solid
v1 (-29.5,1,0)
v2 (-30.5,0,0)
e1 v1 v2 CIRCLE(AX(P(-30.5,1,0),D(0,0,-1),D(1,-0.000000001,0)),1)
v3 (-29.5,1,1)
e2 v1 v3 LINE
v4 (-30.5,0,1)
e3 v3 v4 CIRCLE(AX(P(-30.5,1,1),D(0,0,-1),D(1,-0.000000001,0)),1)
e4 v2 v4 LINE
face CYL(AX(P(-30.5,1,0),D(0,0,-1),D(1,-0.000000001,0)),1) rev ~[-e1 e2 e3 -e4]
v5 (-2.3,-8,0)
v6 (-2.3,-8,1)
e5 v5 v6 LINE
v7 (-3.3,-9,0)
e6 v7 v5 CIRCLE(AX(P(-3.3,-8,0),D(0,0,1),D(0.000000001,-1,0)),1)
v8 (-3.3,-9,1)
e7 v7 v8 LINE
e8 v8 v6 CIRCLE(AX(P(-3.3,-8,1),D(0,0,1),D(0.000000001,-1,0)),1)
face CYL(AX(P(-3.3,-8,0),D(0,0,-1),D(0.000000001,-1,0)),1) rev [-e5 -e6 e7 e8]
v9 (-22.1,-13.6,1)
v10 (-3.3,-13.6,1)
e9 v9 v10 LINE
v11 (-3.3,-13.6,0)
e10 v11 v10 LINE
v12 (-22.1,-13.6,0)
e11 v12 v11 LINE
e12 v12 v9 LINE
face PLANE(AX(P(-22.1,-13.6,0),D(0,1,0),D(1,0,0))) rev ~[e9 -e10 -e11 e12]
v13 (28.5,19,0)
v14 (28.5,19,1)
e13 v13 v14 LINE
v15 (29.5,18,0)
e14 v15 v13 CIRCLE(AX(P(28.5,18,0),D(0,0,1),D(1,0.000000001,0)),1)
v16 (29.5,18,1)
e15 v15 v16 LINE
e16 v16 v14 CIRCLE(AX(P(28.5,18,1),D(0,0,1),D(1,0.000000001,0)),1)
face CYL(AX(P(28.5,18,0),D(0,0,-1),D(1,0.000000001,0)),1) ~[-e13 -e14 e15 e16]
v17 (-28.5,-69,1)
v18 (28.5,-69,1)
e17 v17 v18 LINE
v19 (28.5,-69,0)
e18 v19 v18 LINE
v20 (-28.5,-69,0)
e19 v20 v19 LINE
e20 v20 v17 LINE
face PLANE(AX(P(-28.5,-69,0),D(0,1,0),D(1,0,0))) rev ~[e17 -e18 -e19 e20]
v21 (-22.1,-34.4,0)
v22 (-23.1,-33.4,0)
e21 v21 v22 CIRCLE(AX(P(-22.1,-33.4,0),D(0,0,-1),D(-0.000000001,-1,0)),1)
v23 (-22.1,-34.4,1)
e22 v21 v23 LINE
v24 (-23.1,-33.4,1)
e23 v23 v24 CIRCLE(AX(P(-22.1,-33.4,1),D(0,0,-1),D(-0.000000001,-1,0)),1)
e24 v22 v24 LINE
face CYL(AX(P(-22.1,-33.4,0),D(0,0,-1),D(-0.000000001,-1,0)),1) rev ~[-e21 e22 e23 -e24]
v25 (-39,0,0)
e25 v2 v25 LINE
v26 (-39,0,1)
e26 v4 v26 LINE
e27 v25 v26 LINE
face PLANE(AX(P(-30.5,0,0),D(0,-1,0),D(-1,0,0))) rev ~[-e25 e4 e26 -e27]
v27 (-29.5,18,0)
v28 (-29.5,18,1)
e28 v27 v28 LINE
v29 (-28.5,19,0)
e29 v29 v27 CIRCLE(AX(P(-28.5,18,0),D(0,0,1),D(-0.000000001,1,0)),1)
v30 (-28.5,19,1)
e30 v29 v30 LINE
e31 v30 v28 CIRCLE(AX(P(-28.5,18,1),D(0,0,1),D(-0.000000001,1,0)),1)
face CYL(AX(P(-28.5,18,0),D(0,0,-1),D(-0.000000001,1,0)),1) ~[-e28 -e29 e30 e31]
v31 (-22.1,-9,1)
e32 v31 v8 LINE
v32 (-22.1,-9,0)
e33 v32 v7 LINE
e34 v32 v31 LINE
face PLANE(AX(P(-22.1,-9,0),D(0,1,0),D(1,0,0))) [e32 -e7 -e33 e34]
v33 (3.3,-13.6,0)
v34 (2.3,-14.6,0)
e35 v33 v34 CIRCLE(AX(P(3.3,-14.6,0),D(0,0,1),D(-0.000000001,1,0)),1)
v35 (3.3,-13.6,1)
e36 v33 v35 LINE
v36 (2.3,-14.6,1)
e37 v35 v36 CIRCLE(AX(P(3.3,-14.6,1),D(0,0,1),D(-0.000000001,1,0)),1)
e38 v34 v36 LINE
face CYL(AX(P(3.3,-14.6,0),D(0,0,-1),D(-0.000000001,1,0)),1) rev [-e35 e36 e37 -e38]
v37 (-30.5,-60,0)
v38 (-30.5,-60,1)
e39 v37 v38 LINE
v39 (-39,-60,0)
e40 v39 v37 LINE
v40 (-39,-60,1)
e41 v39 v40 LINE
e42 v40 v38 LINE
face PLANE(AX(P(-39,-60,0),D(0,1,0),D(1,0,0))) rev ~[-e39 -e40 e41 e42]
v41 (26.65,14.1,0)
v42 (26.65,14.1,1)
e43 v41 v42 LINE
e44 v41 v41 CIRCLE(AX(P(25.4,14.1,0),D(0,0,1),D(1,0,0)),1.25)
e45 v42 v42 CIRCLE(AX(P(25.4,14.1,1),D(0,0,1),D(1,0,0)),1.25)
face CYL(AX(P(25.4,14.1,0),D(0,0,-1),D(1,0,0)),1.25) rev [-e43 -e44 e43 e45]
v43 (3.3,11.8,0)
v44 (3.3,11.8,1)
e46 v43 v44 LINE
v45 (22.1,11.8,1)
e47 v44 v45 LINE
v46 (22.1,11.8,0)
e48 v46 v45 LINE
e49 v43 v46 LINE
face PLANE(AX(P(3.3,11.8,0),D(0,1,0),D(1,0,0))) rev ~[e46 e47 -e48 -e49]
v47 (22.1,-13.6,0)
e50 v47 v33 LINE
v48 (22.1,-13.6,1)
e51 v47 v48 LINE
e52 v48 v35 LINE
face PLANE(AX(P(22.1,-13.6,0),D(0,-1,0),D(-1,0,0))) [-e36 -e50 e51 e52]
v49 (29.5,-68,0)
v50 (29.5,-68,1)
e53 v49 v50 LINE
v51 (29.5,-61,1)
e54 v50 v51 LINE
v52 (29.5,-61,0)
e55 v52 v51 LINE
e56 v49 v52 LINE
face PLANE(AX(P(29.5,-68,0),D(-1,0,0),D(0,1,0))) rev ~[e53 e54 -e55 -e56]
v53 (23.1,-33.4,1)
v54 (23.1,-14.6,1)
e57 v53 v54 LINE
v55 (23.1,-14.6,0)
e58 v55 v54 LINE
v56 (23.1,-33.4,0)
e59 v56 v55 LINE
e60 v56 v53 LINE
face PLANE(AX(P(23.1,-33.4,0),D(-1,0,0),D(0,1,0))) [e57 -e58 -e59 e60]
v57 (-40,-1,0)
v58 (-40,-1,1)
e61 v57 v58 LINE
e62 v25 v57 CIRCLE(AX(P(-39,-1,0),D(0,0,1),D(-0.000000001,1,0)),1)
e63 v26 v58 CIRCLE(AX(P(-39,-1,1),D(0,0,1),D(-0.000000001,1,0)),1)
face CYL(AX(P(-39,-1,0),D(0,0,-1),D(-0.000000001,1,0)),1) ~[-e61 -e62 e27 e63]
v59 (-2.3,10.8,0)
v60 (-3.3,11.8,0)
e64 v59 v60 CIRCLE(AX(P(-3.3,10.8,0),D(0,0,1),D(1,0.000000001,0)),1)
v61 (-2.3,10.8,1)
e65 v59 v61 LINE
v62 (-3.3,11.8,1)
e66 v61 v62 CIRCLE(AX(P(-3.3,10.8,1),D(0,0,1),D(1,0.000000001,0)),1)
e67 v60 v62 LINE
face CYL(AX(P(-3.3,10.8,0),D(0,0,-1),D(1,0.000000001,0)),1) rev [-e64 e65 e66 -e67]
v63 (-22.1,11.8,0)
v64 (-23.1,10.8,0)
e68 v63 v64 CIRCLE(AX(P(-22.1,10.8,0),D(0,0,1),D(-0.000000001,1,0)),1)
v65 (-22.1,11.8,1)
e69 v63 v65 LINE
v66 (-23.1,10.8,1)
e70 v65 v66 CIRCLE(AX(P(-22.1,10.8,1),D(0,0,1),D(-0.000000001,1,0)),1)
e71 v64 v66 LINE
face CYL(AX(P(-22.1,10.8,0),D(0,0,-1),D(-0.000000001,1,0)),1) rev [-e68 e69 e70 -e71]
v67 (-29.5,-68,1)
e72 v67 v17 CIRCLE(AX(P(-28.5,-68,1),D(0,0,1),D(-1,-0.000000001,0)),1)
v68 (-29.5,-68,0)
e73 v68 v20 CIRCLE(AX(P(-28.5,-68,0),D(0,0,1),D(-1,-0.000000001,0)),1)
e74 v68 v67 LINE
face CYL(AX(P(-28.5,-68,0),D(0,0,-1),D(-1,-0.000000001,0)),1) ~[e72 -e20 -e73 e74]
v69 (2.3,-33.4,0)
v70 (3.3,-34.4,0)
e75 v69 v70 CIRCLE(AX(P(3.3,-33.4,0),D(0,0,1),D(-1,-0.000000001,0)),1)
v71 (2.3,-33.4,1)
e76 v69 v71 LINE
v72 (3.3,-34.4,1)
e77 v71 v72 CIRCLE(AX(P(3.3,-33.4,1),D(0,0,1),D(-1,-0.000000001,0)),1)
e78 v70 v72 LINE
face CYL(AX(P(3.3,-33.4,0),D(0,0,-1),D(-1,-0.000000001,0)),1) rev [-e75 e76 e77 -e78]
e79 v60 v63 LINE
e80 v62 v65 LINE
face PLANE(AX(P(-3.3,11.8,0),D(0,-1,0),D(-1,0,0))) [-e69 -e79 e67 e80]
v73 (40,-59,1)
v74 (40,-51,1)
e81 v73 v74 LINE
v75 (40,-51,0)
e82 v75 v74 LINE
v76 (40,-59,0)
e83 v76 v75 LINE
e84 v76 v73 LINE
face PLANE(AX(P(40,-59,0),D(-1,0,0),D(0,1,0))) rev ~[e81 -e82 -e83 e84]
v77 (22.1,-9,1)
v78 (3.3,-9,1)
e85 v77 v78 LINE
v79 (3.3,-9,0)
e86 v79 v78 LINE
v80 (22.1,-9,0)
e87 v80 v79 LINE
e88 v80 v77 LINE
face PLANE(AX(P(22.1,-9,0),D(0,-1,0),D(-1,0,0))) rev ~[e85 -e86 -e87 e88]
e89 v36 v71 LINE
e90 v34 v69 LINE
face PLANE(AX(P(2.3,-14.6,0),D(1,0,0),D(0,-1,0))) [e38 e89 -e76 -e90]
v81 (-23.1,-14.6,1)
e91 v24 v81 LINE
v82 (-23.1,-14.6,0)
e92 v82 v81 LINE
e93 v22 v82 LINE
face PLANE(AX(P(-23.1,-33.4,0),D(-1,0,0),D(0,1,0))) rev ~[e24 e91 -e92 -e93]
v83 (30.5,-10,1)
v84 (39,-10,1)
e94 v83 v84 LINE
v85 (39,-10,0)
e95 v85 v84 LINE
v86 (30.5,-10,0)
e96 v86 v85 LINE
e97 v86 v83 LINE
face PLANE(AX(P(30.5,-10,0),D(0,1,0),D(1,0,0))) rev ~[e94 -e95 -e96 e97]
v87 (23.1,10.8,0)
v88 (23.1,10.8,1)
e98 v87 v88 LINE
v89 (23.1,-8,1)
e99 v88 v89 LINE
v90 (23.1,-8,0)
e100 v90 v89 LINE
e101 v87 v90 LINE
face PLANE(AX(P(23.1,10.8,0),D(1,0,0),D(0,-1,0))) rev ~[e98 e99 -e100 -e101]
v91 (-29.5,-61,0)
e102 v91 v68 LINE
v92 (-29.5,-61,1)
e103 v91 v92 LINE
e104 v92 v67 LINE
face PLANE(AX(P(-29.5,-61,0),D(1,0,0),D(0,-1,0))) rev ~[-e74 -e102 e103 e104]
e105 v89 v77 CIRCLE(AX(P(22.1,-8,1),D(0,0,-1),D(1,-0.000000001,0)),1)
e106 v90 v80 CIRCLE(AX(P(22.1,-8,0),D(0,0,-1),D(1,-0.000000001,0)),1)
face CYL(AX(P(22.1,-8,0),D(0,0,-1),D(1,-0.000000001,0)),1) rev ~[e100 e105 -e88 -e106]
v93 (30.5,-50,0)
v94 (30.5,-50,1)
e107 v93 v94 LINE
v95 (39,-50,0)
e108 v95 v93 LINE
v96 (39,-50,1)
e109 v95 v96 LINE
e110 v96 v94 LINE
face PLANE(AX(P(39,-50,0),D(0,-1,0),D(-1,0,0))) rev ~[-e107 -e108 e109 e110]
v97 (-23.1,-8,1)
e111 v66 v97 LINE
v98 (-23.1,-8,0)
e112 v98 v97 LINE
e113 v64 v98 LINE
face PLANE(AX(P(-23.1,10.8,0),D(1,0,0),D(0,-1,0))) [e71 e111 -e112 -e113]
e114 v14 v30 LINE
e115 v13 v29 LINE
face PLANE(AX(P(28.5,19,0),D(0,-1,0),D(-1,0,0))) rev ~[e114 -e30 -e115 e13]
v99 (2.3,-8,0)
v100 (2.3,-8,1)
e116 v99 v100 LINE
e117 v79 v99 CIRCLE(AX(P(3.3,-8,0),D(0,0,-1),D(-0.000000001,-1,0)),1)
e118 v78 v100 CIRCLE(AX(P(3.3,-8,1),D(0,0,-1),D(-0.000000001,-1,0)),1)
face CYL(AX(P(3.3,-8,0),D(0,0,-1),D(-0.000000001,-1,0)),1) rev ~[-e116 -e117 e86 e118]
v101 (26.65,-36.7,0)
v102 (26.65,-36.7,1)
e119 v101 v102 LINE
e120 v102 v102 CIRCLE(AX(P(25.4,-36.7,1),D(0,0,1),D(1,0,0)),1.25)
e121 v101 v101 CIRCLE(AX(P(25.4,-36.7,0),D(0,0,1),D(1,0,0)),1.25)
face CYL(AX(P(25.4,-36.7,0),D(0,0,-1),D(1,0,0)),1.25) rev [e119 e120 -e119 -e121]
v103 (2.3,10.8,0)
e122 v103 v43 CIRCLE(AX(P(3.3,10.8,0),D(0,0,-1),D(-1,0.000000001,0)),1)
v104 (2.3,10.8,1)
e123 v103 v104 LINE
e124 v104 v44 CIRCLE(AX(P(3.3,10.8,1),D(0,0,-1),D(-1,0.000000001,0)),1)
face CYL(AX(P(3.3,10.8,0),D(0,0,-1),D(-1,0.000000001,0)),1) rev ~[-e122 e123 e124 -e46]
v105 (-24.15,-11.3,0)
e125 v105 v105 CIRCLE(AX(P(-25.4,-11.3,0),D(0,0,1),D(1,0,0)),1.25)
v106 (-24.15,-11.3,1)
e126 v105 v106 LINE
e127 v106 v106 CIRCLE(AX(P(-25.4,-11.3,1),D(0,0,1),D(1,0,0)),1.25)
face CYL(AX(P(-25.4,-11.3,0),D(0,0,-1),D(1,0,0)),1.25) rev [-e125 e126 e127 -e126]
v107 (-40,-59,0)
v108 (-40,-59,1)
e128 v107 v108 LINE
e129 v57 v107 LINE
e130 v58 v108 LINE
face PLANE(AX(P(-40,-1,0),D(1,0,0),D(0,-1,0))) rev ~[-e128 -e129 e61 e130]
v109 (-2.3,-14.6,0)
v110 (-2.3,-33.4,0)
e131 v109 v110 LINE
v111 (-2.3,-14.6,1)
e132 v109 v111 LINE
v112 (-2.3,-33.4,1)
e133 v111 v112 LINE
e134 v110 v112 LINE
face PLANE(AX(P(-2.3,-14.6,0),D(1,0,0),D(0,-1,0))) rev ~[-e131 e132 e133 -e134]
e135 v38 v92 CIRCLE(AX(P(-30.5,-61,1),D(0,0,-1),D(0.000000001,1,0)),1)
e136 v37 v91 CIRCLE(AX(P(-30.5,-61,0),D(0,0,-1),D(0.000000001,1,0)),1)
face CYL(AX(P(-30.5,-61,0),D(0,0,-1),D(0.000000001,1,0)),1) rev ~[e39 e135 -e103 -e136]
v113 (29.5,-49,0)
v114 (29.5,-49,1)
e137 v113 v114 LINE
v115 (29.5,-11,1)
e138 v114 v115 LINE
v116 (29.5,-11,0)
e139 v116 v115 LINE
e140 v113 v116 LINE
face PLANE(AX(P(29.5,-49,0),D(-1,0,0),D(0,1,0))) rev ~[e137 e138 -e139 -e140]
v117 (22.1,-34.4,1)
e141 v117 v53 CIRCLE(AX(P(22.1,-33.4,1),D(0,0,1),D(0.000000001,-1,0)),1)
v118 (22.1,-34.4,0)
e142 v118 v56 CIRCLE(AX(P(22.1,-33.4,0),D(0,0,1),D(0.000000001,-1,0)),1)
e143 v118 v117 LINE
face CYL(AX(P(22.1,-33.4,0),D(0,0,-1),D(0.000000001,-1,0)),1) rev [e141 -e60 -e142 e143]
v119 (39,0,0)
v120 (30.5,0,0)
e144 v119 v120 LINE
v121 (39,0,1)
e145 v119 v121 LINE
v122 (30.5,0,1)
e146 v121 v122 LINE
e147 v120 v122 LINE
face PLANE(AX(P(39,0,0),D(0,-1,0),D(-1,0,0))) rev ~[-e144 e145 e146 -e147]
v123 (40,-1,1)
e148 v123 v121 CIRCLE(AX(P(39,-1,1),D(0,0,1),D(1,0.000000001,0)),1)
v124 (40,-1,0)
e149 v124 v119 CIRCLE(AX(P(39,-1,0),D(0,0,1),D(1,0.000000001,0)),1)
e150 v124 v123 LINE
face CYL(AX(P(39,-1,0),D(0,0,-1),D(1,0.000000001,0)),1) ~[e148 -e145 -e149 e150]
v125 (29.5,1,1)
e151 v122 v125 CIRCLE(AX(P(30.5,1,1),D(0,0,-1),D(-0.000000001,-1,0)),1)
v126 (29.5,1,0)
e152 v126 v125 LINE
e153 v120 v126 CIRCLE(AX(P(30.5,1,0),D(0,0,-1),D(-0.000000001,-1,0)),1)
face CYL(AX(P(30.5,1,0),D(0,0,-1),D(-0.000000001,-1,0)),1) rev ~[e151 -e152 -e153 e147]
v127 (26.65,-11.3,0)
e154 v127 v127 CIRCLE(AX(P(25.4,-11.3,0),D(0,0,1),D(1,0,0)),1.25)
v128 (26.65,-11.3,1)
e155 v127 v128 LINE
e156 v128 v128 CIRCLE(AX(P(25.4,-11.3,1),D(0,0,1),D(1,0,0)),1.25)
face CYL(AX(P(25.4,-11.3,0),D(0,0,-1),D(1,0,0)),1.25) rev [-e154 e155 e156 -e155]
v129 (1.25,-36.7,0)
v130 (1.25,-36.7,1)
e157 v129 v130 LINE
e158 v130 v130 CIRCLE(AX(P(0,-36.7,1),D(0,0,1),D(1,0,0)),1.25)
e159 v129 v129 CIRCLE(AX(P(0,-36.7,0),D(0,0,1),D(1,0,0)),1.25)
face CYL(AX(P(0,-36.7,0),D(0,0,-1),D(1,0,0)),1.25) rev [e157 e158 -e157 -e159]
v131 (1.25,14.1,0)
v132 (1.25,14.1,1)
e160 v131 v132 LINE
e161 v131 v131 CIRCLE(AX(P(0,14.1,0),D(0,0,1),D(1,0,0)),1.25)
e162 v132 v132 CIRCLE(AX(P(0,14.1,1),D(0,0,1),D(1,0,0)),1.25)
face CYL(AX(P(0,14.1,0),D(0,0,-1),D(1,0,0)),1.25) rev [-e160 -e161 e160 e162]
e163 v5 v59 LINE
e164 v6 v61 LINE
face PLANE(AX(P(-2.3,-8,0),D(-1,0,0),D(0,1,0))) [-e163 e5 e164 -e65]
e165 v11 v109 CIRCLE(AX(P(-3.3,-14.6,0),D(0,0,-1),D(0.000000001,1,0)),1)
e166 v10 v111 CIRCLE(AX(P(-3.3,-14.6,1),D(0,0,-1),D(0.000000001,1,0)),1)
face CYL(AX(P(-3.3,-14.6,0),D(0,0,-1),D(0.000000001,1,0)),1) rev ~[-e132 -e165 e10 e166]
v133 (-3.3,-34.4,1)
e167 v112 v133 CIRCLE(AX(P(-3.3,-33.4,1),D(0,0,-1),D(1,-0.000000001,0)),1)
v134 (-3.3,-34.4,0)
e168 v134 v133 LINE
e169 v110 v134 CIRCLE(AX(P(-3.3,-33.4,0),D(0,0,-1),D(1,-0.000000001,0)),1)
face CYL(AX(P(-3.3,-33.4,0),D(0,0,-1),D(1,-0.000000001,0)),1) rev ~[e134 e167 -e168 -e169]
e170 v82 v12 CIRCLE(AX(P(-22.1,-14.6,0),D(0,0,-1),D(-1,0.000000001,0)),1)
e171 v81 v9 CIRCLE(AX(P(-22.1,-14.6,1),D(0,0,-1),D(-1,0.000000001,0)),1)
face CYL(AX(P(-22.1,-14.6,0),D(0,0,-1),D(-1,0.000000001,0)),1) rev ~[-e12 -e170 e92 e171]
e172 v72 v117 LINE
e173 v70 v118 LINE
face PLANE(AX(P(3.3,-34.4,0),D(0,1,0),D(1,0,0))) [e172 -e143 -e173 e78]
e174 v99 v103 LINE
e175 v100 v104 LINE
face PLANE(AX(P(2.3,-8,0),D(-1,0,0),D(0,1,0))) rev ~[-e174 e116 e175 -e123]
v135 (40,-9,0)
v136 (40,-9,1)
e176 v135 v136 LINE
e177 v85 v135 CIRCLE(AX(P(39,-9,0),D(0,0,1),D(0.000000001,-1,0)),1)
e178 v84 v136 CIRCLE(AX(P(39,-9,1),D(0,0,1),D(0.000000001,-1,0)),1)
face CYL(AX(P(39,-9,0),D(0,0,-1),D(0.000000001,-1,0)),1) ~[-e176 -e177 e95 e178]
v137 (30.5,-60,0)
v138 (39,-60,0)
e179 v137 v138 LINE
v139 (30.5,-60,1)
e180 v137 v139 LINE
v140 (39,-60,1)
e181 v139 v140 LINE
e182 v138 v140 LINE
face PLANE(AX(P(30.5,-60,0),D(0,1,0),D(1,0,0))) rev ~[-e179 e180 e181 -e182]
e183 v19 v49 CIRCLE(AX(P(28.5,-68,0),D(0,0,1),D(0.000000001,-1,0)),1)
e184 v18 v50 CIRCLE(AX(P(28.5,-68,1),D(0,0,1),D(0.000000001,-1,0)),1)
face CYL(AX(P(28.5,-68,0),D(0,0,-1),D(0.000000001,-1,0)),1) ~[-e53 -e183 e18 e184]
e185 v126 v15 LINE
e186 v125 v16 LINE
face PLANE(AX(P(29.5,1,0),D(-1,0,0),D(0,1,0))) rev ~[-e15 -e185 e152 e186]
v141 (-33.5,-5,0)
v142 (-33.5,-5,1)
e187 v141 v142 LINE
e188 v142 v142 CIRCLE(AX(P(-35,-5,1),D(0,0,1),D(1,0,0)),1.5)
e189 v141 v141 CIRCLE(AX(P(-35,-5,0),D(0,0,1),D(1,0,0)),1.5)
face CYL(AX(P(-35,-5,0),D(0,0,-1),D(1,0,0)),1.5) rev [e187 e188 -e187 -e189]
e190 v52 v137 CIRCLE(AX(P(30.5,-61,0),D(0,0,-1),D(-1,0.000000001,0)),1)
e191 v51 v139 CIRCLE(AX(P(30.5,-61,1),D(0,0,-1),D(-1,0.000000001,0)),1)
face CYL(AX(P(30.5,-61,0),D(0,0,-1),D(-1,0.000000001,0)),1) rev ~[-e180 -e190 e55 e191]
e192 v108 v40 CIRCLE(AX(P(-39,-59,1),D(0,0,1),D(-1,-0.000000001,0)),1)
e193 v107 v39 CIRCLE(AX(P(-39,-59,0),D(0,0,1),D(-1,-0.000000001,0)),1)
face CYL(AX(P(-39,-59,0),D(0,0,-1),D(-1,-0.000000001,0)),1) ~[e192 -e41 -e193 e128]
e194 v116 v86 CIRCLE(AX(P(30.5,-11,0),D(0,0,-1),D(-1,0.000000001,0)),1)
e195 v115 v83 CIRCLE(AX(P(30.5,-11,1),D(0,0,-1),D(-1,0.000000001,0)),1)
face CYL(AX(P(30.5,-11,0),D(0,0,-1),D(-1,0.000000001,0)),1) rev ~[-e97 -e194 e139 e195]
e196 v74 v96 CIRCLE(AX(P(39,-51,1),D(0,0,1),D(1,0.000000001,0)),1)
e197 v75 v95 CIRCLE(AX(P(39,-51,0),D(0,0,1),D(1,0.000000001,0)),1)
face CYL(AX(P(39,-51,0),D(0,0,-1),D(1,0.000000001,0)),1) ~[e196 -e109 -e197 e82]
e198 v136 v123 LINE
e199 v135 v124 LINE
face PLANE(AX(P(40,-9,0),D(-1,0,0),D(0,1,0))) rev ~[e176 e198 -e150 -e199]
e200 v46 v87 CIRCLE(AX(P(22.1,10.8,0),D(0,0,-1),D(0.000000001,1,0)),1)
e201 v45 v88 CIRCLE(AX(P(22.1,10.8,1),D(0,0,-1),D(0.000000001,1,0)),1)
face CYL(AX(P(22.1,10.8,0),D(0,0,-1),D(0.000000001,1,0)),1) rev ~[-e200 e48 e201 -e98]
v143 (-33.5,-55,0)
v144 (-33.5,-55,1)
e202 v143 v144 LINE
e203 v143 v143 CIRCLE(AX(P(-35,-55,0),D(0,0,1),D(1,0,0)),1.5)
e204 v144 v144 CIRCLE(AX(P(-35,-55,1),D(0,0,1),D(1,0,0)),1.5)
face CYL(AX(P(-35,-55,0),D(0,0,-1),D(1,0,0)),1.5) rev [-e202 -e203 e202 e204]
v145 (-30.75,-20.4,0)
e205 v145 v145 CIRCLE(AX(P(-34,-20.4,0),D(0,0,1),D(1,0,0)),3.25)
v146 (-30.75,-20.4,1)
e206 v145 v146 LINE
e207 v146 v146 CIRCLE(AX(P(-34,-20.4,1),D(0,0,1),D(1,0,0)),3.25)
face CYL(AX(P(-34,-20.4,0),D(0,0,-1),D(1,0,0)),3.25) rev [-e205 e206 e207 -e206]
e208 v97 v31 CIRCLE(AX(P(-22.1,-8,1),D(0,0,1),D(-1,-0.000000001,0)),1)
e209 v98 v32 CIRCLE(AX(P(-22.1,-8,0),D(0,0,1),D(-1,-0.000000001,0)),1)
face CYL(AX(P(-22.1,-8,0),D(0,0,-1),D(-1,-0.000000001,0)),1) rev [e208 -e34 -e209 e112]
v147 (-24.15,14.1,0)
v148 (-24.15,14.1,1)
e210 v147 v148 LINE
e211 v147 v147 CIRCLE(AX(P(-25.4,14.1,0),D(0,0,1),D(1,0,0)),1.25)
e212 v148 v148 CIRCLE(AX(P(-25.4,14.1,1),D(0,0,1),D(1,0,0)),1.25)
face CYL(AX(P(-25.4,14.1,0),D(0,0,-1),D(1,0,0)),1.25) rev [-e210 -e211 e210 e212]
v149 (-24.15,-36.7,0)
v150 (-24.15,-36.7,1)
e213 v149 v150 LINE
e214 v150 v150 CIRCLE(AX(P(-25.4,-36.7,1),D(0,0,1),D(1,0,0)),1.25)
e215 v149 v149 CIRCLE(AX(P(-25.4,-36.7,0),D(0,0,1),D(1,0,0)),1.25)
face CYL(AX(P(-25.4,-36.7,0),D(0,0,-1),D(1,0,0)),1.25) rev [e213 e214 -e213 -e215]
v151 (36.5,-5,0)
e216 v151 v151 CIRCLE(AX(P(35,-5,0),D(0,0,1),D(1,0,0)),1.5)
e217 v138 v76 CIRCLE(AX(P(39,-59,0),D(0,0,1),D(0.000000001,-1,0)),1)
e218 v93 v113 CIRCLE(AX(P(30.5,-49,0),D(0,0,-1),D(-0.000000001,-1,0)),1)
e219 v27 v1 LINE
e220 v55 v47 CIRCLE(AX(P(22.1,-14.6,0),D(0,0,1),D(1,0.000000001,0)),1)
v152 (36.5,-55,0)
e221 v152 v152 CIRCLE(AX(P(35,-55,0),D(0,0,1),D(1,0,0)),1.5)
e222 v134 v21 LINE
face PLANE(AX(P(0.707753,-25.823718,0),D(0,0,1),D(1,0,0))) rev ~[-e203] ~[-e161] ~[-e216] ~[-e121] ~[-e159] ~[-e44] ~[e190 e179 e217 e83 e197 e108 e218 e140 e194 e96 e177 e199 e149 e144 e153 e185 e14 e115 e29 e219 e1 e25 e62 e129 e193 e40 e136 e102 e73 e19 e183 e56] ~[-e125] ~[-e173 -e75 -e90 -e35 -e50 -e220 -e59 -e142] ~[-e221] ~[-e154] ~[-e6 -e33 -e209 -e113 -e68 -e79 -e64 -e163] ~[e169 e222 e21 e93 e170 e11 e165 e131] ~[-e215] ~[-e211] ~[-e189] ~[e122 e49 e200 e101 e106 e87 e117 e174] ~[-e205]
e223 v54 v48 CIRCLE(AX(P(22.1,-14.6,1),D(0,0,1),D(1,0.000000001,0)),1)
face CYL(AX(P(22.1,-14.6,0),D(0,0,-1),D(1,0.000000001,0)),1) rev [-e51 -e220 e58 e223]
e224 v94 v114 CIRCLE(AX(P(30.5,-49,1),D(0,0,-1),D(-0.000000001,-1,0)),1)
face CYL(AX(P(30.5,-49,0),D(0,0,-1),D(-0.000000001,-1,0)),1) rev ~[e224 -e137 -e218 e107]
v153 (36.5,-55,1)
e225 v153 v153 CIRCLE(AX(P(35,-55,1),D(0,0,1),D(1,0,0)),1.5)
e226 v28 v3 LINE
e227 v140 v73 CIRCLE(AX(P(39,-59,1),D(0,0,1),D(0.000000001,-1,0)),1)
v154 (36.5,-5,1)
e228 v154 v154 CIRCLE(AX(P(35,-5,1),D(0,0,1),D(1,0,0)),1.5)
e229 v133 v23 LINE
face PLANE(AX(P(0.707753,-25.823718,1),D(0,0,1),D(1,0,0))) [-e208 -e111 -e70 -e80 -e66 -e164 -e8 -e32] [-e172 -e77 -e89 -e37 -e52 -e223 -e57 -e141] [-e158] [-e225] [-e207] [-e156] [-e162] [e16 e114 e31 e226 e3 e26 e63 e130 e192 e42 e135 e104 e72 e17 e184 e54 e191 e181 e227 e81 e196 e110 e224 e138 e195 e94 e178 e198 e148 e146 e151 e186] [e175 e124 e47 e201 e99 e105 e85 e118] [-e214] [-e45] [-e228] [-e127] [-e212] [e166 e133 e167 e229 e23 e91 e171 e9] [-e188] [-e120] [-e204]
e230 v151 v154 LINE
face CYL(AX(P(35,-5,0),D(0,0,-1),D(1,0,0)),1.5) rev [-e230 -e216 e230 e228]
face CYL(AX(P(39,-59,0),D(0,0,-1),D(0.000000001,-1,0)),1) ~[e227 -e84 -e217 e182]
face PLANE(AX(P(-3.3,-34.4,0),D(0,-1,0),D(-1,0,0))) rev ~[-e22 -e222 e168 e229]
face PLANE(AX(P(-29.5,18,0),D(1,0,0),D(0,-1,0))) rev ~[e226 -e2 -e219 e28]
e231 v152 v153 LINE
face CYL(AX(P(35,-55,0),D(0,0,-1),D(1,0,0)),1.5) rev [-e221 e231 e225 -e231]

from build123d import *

# Parameters (mm, degrees)
MODEL_R         = 1.5
MODEL_R_2       = 3.25
MODEL_R_3       = 1.25
EXTRUDE_1_DEPTH = 1


with BuildPart() as part:
    # Model → Бобышка-Вытянуть1 (new body)
    with BuildSketch(Plane.XY):
        with BuildLine():
            Line((-28.5, -69), (28.5, -69))
            ThreePointArc((28.5, -69), (29.207106781, -68.707106781), (29.5, -68))
            Line((29.5, -68), (29.5, -61))
            ThreePointArc((29.5, -61), (29.792893219, -60.292893219), (30.5, -60))
            Line((30.5, -60), (39, -60))
            ThreePointArc((39, -60), (39.707106781, -59.707106781), (40, -59))
            Line((40, -59), (40, -55))
            Line((40, -55), (40, -51))
            ThreePointArc((40, -51), (39.707106781, -50.292893219), (39, -50))
            Line((39, -50), (30.5, -50))
            ThreePointArc((30.5, -50), (29.792893219, -49.707106781), (29.5, -49))
            Line((29.5, -49), (29.5, -11))
            ThreePointArc((29.5, -11), (29.792893219, -10.292893219), (30.5, -10))
            Line((30.5, -10), (39, -10))
            ThreePointArc((39, -10), (39.707106781, -9.707106781), (40, -9))
            Line((40, -9), (40, -5))
            Line((40, -5), (40, -1))
            ThreePointArc((40, -1), (39.707106781, -0.292893219), (39, 0))
            Line((39, 0), (30.5, 0))
            ThreePointArc((30.5, 0), (29.792893219, 0.292893219), (29.5, 1))
            Line((29.5, 1), (29.5, 18))
            ThreePointArc((29.5, 18), (29.207106781, 18.707106781), (28.5, 19))
            Line((28.5, 19), (-28.5, 19))
            ThreePointArc((-28.5, 19), (-29.207106781, 18.707106781), (-29.5, 18))
            Line((-29.5, 18), (-29.5, 1))
            ThreePointArc((-29.5, 1), (-29.792893219, 0.292893219), (-30.5, 0))
            Line((-30.5, 0), (-39, 0))
            ThreePointArc((-39, 0), (-39.707106781, -0.292893219), (-40, -1))
            Line((-40, -1), (-40, -5))
            Line((-40, -5), (-40, -9))
            Line((-40, -9), (-40, -52))
            Line((-40, -52), (-40, -55))
            Line((-40, -55), (-40, -59))
            ThreePointArc((-40, -59), (-39.707106781, -59.707106781), (-39, -60))
            Line((-39, -60), (-30.5, -60))
            ThreePointArc((-30.5, -60), (-29.792893219, -60.292893219), (-29.5, -61))
            Line((-29.5, -61), (-29.5, -68))
            ThreePointArc((-29.5, -68), (-29.207106781, -68.707106781), (-28.5, -69))
        make_face()
        with Locations((-35, -5)):
            Circle(MODEL_R, mode=Mode.SUBTRACT)
        with Locations((-35, -55)):
            Circle(MODEL_R, mode=Mode.SUBTRACT)
        with Locations((35, -5)):
            Circle(MODEL_R, mode=Mode.SUBTRACT)
        with Locations((35, -55)):
            Circle(MODEL_R, mode=Mode.SUBTRACT)
        with Locations((-34, -20.4)):
            Circle(MODEL_R_2, mode=Mode.SUBTRACT)
        with Locations((25.4, -36.7)):
            Circle(MODEL_R_3, mode=Mode.SUBTRACT)
        with Locations((0, -36.7)):
            Circle(MODEL_R_3, mode=Mode.SUBTRACT)
        with Locations((25.4, 14.1)):
            Circle(MODEL_R_3, mode=Mode.SUBTRACT)
        with Locations((0, 14.1)):
            Circle(MODEL_R_3, mode=Mode.SUBTRACT)
        with Locations((-25.4, -11.3)):
            Circle(MODEL_R_3, mode=Mode.SUBTRACT)
        with Locations((-25.4, -36.7)):
            Circle(MODEL_R_3, mode=Mode.SUBTRACT)
        with Locations((-25.4, 14.1)):
            Circle(MODEL_R_3, mode=Mode.SUBTRACT)
        with Locations((25.4, -11.3)):
            Circle(MODEL_R_3, mode=Mode.SUBTRACT)
        with BuildLine():
            Line((-2.3, -8), (-2.3, 10.8))
            ThreePointArc((-2.3, 10.8), (-2.592893219, 11.507106781), (-3.3, 11.8))
            Line((-3.3, 11.8), (-22.1, 11.8))
            ThreePointArc((-22.1, 11.8), (-22.807106781, 11.507106781), (-23.1, 10.8))
            Line((-23.1, 10.8), (-23.1, -8))
            ThreePointArc((-23.1, -8), (-22.807106781, -8.707106781), (-22.1, -9))
            Line((-22.1, -9), (-3.3, -9))
            ThreePointArc((-3.3, -9), (-2.592893219, -8.707106781), (-2.3, -8))
        make_face(mode=Mode.SUBTRACT)
        with BuildLine():
            Line((2.3, -8), (2.3, 10.8))
            ThreePointArc((2.3, 10.8), (2.592893219, 11.507106781), (3.3, 11.8))
            Line((3.3, 11.8), (22.1, 11.8))
            ThreePointArc((22.1, 11.8), (22.807106781, 11.507106781), (23.1, 10.8))
            Line((23.1, 10.8), (23.1, -8))
            ThreePointArc((23.1, -8), (22.807106781, -8.707106781), (22.1, -9))
            Line((22.1, -9), (3.3, -9))
            ThreePointArc((3.3, -9), (2.592893219, -8.707106781), (2.3, -8))
        make_face(mode=Mode.SUBTRACT)
        with BuildLine():
            Line((-2.3, -14.6), (-2.3, -33.4))
            ThreePointArc((-2.3, -33.4), (-2.592893219, -34.107106781), (-3.3, -34.4))
            Line((-3.3, -34.4), (-22.1, -34.4))
            ThreePointArc((-22.1, -34.4), (-22.807106781, -34.107106781), (-23.1, -33.4))
            Line((-23.1, -33.4), (-23.1, -14.6))
            ThreePointArc((-23.1, -14.6), (-22.807106781, -13.892893219), (-22.1, -13.6))
            Line((-22.1, -13.6), (-3.3, -13.6))
            ThreePointArc((-3.3, -13.6), (-2.592893219, -13.892893219), (-2.3, -14.6))
        make_face(mode=Mode.SUBTRACT)
        with BuildLine():
            Line((2.3, -14.6), (2.3, -33.4))
            ThreePointArc((2.3, -33.4), (2.592893219, -34.107106781), (3.3, -34.4))
            Line((3.3, -34.4), (22.1, -34.4))
            ThreePointArc((22.1, -34.4), (22.807106781, -34.107106781), (23.1, -33.4))
            Line((23.1, -33.4), (23.1, -14.6))
            ThreePointArc((23.1, -14.6), (22.807106781, -13.892893219), (22.1, -13.6))
            Line((22.1, -13.6), (3.3, -13.6))
            ThreePointArc((3.3, -13.6), (2.592893219, -13.892893219), (2.3, -14.6))
        make_face(mode=Mode.SUBTRACT)
    extrude(amount=EXTRUDE_1_DEPTH)


solid = part.part
